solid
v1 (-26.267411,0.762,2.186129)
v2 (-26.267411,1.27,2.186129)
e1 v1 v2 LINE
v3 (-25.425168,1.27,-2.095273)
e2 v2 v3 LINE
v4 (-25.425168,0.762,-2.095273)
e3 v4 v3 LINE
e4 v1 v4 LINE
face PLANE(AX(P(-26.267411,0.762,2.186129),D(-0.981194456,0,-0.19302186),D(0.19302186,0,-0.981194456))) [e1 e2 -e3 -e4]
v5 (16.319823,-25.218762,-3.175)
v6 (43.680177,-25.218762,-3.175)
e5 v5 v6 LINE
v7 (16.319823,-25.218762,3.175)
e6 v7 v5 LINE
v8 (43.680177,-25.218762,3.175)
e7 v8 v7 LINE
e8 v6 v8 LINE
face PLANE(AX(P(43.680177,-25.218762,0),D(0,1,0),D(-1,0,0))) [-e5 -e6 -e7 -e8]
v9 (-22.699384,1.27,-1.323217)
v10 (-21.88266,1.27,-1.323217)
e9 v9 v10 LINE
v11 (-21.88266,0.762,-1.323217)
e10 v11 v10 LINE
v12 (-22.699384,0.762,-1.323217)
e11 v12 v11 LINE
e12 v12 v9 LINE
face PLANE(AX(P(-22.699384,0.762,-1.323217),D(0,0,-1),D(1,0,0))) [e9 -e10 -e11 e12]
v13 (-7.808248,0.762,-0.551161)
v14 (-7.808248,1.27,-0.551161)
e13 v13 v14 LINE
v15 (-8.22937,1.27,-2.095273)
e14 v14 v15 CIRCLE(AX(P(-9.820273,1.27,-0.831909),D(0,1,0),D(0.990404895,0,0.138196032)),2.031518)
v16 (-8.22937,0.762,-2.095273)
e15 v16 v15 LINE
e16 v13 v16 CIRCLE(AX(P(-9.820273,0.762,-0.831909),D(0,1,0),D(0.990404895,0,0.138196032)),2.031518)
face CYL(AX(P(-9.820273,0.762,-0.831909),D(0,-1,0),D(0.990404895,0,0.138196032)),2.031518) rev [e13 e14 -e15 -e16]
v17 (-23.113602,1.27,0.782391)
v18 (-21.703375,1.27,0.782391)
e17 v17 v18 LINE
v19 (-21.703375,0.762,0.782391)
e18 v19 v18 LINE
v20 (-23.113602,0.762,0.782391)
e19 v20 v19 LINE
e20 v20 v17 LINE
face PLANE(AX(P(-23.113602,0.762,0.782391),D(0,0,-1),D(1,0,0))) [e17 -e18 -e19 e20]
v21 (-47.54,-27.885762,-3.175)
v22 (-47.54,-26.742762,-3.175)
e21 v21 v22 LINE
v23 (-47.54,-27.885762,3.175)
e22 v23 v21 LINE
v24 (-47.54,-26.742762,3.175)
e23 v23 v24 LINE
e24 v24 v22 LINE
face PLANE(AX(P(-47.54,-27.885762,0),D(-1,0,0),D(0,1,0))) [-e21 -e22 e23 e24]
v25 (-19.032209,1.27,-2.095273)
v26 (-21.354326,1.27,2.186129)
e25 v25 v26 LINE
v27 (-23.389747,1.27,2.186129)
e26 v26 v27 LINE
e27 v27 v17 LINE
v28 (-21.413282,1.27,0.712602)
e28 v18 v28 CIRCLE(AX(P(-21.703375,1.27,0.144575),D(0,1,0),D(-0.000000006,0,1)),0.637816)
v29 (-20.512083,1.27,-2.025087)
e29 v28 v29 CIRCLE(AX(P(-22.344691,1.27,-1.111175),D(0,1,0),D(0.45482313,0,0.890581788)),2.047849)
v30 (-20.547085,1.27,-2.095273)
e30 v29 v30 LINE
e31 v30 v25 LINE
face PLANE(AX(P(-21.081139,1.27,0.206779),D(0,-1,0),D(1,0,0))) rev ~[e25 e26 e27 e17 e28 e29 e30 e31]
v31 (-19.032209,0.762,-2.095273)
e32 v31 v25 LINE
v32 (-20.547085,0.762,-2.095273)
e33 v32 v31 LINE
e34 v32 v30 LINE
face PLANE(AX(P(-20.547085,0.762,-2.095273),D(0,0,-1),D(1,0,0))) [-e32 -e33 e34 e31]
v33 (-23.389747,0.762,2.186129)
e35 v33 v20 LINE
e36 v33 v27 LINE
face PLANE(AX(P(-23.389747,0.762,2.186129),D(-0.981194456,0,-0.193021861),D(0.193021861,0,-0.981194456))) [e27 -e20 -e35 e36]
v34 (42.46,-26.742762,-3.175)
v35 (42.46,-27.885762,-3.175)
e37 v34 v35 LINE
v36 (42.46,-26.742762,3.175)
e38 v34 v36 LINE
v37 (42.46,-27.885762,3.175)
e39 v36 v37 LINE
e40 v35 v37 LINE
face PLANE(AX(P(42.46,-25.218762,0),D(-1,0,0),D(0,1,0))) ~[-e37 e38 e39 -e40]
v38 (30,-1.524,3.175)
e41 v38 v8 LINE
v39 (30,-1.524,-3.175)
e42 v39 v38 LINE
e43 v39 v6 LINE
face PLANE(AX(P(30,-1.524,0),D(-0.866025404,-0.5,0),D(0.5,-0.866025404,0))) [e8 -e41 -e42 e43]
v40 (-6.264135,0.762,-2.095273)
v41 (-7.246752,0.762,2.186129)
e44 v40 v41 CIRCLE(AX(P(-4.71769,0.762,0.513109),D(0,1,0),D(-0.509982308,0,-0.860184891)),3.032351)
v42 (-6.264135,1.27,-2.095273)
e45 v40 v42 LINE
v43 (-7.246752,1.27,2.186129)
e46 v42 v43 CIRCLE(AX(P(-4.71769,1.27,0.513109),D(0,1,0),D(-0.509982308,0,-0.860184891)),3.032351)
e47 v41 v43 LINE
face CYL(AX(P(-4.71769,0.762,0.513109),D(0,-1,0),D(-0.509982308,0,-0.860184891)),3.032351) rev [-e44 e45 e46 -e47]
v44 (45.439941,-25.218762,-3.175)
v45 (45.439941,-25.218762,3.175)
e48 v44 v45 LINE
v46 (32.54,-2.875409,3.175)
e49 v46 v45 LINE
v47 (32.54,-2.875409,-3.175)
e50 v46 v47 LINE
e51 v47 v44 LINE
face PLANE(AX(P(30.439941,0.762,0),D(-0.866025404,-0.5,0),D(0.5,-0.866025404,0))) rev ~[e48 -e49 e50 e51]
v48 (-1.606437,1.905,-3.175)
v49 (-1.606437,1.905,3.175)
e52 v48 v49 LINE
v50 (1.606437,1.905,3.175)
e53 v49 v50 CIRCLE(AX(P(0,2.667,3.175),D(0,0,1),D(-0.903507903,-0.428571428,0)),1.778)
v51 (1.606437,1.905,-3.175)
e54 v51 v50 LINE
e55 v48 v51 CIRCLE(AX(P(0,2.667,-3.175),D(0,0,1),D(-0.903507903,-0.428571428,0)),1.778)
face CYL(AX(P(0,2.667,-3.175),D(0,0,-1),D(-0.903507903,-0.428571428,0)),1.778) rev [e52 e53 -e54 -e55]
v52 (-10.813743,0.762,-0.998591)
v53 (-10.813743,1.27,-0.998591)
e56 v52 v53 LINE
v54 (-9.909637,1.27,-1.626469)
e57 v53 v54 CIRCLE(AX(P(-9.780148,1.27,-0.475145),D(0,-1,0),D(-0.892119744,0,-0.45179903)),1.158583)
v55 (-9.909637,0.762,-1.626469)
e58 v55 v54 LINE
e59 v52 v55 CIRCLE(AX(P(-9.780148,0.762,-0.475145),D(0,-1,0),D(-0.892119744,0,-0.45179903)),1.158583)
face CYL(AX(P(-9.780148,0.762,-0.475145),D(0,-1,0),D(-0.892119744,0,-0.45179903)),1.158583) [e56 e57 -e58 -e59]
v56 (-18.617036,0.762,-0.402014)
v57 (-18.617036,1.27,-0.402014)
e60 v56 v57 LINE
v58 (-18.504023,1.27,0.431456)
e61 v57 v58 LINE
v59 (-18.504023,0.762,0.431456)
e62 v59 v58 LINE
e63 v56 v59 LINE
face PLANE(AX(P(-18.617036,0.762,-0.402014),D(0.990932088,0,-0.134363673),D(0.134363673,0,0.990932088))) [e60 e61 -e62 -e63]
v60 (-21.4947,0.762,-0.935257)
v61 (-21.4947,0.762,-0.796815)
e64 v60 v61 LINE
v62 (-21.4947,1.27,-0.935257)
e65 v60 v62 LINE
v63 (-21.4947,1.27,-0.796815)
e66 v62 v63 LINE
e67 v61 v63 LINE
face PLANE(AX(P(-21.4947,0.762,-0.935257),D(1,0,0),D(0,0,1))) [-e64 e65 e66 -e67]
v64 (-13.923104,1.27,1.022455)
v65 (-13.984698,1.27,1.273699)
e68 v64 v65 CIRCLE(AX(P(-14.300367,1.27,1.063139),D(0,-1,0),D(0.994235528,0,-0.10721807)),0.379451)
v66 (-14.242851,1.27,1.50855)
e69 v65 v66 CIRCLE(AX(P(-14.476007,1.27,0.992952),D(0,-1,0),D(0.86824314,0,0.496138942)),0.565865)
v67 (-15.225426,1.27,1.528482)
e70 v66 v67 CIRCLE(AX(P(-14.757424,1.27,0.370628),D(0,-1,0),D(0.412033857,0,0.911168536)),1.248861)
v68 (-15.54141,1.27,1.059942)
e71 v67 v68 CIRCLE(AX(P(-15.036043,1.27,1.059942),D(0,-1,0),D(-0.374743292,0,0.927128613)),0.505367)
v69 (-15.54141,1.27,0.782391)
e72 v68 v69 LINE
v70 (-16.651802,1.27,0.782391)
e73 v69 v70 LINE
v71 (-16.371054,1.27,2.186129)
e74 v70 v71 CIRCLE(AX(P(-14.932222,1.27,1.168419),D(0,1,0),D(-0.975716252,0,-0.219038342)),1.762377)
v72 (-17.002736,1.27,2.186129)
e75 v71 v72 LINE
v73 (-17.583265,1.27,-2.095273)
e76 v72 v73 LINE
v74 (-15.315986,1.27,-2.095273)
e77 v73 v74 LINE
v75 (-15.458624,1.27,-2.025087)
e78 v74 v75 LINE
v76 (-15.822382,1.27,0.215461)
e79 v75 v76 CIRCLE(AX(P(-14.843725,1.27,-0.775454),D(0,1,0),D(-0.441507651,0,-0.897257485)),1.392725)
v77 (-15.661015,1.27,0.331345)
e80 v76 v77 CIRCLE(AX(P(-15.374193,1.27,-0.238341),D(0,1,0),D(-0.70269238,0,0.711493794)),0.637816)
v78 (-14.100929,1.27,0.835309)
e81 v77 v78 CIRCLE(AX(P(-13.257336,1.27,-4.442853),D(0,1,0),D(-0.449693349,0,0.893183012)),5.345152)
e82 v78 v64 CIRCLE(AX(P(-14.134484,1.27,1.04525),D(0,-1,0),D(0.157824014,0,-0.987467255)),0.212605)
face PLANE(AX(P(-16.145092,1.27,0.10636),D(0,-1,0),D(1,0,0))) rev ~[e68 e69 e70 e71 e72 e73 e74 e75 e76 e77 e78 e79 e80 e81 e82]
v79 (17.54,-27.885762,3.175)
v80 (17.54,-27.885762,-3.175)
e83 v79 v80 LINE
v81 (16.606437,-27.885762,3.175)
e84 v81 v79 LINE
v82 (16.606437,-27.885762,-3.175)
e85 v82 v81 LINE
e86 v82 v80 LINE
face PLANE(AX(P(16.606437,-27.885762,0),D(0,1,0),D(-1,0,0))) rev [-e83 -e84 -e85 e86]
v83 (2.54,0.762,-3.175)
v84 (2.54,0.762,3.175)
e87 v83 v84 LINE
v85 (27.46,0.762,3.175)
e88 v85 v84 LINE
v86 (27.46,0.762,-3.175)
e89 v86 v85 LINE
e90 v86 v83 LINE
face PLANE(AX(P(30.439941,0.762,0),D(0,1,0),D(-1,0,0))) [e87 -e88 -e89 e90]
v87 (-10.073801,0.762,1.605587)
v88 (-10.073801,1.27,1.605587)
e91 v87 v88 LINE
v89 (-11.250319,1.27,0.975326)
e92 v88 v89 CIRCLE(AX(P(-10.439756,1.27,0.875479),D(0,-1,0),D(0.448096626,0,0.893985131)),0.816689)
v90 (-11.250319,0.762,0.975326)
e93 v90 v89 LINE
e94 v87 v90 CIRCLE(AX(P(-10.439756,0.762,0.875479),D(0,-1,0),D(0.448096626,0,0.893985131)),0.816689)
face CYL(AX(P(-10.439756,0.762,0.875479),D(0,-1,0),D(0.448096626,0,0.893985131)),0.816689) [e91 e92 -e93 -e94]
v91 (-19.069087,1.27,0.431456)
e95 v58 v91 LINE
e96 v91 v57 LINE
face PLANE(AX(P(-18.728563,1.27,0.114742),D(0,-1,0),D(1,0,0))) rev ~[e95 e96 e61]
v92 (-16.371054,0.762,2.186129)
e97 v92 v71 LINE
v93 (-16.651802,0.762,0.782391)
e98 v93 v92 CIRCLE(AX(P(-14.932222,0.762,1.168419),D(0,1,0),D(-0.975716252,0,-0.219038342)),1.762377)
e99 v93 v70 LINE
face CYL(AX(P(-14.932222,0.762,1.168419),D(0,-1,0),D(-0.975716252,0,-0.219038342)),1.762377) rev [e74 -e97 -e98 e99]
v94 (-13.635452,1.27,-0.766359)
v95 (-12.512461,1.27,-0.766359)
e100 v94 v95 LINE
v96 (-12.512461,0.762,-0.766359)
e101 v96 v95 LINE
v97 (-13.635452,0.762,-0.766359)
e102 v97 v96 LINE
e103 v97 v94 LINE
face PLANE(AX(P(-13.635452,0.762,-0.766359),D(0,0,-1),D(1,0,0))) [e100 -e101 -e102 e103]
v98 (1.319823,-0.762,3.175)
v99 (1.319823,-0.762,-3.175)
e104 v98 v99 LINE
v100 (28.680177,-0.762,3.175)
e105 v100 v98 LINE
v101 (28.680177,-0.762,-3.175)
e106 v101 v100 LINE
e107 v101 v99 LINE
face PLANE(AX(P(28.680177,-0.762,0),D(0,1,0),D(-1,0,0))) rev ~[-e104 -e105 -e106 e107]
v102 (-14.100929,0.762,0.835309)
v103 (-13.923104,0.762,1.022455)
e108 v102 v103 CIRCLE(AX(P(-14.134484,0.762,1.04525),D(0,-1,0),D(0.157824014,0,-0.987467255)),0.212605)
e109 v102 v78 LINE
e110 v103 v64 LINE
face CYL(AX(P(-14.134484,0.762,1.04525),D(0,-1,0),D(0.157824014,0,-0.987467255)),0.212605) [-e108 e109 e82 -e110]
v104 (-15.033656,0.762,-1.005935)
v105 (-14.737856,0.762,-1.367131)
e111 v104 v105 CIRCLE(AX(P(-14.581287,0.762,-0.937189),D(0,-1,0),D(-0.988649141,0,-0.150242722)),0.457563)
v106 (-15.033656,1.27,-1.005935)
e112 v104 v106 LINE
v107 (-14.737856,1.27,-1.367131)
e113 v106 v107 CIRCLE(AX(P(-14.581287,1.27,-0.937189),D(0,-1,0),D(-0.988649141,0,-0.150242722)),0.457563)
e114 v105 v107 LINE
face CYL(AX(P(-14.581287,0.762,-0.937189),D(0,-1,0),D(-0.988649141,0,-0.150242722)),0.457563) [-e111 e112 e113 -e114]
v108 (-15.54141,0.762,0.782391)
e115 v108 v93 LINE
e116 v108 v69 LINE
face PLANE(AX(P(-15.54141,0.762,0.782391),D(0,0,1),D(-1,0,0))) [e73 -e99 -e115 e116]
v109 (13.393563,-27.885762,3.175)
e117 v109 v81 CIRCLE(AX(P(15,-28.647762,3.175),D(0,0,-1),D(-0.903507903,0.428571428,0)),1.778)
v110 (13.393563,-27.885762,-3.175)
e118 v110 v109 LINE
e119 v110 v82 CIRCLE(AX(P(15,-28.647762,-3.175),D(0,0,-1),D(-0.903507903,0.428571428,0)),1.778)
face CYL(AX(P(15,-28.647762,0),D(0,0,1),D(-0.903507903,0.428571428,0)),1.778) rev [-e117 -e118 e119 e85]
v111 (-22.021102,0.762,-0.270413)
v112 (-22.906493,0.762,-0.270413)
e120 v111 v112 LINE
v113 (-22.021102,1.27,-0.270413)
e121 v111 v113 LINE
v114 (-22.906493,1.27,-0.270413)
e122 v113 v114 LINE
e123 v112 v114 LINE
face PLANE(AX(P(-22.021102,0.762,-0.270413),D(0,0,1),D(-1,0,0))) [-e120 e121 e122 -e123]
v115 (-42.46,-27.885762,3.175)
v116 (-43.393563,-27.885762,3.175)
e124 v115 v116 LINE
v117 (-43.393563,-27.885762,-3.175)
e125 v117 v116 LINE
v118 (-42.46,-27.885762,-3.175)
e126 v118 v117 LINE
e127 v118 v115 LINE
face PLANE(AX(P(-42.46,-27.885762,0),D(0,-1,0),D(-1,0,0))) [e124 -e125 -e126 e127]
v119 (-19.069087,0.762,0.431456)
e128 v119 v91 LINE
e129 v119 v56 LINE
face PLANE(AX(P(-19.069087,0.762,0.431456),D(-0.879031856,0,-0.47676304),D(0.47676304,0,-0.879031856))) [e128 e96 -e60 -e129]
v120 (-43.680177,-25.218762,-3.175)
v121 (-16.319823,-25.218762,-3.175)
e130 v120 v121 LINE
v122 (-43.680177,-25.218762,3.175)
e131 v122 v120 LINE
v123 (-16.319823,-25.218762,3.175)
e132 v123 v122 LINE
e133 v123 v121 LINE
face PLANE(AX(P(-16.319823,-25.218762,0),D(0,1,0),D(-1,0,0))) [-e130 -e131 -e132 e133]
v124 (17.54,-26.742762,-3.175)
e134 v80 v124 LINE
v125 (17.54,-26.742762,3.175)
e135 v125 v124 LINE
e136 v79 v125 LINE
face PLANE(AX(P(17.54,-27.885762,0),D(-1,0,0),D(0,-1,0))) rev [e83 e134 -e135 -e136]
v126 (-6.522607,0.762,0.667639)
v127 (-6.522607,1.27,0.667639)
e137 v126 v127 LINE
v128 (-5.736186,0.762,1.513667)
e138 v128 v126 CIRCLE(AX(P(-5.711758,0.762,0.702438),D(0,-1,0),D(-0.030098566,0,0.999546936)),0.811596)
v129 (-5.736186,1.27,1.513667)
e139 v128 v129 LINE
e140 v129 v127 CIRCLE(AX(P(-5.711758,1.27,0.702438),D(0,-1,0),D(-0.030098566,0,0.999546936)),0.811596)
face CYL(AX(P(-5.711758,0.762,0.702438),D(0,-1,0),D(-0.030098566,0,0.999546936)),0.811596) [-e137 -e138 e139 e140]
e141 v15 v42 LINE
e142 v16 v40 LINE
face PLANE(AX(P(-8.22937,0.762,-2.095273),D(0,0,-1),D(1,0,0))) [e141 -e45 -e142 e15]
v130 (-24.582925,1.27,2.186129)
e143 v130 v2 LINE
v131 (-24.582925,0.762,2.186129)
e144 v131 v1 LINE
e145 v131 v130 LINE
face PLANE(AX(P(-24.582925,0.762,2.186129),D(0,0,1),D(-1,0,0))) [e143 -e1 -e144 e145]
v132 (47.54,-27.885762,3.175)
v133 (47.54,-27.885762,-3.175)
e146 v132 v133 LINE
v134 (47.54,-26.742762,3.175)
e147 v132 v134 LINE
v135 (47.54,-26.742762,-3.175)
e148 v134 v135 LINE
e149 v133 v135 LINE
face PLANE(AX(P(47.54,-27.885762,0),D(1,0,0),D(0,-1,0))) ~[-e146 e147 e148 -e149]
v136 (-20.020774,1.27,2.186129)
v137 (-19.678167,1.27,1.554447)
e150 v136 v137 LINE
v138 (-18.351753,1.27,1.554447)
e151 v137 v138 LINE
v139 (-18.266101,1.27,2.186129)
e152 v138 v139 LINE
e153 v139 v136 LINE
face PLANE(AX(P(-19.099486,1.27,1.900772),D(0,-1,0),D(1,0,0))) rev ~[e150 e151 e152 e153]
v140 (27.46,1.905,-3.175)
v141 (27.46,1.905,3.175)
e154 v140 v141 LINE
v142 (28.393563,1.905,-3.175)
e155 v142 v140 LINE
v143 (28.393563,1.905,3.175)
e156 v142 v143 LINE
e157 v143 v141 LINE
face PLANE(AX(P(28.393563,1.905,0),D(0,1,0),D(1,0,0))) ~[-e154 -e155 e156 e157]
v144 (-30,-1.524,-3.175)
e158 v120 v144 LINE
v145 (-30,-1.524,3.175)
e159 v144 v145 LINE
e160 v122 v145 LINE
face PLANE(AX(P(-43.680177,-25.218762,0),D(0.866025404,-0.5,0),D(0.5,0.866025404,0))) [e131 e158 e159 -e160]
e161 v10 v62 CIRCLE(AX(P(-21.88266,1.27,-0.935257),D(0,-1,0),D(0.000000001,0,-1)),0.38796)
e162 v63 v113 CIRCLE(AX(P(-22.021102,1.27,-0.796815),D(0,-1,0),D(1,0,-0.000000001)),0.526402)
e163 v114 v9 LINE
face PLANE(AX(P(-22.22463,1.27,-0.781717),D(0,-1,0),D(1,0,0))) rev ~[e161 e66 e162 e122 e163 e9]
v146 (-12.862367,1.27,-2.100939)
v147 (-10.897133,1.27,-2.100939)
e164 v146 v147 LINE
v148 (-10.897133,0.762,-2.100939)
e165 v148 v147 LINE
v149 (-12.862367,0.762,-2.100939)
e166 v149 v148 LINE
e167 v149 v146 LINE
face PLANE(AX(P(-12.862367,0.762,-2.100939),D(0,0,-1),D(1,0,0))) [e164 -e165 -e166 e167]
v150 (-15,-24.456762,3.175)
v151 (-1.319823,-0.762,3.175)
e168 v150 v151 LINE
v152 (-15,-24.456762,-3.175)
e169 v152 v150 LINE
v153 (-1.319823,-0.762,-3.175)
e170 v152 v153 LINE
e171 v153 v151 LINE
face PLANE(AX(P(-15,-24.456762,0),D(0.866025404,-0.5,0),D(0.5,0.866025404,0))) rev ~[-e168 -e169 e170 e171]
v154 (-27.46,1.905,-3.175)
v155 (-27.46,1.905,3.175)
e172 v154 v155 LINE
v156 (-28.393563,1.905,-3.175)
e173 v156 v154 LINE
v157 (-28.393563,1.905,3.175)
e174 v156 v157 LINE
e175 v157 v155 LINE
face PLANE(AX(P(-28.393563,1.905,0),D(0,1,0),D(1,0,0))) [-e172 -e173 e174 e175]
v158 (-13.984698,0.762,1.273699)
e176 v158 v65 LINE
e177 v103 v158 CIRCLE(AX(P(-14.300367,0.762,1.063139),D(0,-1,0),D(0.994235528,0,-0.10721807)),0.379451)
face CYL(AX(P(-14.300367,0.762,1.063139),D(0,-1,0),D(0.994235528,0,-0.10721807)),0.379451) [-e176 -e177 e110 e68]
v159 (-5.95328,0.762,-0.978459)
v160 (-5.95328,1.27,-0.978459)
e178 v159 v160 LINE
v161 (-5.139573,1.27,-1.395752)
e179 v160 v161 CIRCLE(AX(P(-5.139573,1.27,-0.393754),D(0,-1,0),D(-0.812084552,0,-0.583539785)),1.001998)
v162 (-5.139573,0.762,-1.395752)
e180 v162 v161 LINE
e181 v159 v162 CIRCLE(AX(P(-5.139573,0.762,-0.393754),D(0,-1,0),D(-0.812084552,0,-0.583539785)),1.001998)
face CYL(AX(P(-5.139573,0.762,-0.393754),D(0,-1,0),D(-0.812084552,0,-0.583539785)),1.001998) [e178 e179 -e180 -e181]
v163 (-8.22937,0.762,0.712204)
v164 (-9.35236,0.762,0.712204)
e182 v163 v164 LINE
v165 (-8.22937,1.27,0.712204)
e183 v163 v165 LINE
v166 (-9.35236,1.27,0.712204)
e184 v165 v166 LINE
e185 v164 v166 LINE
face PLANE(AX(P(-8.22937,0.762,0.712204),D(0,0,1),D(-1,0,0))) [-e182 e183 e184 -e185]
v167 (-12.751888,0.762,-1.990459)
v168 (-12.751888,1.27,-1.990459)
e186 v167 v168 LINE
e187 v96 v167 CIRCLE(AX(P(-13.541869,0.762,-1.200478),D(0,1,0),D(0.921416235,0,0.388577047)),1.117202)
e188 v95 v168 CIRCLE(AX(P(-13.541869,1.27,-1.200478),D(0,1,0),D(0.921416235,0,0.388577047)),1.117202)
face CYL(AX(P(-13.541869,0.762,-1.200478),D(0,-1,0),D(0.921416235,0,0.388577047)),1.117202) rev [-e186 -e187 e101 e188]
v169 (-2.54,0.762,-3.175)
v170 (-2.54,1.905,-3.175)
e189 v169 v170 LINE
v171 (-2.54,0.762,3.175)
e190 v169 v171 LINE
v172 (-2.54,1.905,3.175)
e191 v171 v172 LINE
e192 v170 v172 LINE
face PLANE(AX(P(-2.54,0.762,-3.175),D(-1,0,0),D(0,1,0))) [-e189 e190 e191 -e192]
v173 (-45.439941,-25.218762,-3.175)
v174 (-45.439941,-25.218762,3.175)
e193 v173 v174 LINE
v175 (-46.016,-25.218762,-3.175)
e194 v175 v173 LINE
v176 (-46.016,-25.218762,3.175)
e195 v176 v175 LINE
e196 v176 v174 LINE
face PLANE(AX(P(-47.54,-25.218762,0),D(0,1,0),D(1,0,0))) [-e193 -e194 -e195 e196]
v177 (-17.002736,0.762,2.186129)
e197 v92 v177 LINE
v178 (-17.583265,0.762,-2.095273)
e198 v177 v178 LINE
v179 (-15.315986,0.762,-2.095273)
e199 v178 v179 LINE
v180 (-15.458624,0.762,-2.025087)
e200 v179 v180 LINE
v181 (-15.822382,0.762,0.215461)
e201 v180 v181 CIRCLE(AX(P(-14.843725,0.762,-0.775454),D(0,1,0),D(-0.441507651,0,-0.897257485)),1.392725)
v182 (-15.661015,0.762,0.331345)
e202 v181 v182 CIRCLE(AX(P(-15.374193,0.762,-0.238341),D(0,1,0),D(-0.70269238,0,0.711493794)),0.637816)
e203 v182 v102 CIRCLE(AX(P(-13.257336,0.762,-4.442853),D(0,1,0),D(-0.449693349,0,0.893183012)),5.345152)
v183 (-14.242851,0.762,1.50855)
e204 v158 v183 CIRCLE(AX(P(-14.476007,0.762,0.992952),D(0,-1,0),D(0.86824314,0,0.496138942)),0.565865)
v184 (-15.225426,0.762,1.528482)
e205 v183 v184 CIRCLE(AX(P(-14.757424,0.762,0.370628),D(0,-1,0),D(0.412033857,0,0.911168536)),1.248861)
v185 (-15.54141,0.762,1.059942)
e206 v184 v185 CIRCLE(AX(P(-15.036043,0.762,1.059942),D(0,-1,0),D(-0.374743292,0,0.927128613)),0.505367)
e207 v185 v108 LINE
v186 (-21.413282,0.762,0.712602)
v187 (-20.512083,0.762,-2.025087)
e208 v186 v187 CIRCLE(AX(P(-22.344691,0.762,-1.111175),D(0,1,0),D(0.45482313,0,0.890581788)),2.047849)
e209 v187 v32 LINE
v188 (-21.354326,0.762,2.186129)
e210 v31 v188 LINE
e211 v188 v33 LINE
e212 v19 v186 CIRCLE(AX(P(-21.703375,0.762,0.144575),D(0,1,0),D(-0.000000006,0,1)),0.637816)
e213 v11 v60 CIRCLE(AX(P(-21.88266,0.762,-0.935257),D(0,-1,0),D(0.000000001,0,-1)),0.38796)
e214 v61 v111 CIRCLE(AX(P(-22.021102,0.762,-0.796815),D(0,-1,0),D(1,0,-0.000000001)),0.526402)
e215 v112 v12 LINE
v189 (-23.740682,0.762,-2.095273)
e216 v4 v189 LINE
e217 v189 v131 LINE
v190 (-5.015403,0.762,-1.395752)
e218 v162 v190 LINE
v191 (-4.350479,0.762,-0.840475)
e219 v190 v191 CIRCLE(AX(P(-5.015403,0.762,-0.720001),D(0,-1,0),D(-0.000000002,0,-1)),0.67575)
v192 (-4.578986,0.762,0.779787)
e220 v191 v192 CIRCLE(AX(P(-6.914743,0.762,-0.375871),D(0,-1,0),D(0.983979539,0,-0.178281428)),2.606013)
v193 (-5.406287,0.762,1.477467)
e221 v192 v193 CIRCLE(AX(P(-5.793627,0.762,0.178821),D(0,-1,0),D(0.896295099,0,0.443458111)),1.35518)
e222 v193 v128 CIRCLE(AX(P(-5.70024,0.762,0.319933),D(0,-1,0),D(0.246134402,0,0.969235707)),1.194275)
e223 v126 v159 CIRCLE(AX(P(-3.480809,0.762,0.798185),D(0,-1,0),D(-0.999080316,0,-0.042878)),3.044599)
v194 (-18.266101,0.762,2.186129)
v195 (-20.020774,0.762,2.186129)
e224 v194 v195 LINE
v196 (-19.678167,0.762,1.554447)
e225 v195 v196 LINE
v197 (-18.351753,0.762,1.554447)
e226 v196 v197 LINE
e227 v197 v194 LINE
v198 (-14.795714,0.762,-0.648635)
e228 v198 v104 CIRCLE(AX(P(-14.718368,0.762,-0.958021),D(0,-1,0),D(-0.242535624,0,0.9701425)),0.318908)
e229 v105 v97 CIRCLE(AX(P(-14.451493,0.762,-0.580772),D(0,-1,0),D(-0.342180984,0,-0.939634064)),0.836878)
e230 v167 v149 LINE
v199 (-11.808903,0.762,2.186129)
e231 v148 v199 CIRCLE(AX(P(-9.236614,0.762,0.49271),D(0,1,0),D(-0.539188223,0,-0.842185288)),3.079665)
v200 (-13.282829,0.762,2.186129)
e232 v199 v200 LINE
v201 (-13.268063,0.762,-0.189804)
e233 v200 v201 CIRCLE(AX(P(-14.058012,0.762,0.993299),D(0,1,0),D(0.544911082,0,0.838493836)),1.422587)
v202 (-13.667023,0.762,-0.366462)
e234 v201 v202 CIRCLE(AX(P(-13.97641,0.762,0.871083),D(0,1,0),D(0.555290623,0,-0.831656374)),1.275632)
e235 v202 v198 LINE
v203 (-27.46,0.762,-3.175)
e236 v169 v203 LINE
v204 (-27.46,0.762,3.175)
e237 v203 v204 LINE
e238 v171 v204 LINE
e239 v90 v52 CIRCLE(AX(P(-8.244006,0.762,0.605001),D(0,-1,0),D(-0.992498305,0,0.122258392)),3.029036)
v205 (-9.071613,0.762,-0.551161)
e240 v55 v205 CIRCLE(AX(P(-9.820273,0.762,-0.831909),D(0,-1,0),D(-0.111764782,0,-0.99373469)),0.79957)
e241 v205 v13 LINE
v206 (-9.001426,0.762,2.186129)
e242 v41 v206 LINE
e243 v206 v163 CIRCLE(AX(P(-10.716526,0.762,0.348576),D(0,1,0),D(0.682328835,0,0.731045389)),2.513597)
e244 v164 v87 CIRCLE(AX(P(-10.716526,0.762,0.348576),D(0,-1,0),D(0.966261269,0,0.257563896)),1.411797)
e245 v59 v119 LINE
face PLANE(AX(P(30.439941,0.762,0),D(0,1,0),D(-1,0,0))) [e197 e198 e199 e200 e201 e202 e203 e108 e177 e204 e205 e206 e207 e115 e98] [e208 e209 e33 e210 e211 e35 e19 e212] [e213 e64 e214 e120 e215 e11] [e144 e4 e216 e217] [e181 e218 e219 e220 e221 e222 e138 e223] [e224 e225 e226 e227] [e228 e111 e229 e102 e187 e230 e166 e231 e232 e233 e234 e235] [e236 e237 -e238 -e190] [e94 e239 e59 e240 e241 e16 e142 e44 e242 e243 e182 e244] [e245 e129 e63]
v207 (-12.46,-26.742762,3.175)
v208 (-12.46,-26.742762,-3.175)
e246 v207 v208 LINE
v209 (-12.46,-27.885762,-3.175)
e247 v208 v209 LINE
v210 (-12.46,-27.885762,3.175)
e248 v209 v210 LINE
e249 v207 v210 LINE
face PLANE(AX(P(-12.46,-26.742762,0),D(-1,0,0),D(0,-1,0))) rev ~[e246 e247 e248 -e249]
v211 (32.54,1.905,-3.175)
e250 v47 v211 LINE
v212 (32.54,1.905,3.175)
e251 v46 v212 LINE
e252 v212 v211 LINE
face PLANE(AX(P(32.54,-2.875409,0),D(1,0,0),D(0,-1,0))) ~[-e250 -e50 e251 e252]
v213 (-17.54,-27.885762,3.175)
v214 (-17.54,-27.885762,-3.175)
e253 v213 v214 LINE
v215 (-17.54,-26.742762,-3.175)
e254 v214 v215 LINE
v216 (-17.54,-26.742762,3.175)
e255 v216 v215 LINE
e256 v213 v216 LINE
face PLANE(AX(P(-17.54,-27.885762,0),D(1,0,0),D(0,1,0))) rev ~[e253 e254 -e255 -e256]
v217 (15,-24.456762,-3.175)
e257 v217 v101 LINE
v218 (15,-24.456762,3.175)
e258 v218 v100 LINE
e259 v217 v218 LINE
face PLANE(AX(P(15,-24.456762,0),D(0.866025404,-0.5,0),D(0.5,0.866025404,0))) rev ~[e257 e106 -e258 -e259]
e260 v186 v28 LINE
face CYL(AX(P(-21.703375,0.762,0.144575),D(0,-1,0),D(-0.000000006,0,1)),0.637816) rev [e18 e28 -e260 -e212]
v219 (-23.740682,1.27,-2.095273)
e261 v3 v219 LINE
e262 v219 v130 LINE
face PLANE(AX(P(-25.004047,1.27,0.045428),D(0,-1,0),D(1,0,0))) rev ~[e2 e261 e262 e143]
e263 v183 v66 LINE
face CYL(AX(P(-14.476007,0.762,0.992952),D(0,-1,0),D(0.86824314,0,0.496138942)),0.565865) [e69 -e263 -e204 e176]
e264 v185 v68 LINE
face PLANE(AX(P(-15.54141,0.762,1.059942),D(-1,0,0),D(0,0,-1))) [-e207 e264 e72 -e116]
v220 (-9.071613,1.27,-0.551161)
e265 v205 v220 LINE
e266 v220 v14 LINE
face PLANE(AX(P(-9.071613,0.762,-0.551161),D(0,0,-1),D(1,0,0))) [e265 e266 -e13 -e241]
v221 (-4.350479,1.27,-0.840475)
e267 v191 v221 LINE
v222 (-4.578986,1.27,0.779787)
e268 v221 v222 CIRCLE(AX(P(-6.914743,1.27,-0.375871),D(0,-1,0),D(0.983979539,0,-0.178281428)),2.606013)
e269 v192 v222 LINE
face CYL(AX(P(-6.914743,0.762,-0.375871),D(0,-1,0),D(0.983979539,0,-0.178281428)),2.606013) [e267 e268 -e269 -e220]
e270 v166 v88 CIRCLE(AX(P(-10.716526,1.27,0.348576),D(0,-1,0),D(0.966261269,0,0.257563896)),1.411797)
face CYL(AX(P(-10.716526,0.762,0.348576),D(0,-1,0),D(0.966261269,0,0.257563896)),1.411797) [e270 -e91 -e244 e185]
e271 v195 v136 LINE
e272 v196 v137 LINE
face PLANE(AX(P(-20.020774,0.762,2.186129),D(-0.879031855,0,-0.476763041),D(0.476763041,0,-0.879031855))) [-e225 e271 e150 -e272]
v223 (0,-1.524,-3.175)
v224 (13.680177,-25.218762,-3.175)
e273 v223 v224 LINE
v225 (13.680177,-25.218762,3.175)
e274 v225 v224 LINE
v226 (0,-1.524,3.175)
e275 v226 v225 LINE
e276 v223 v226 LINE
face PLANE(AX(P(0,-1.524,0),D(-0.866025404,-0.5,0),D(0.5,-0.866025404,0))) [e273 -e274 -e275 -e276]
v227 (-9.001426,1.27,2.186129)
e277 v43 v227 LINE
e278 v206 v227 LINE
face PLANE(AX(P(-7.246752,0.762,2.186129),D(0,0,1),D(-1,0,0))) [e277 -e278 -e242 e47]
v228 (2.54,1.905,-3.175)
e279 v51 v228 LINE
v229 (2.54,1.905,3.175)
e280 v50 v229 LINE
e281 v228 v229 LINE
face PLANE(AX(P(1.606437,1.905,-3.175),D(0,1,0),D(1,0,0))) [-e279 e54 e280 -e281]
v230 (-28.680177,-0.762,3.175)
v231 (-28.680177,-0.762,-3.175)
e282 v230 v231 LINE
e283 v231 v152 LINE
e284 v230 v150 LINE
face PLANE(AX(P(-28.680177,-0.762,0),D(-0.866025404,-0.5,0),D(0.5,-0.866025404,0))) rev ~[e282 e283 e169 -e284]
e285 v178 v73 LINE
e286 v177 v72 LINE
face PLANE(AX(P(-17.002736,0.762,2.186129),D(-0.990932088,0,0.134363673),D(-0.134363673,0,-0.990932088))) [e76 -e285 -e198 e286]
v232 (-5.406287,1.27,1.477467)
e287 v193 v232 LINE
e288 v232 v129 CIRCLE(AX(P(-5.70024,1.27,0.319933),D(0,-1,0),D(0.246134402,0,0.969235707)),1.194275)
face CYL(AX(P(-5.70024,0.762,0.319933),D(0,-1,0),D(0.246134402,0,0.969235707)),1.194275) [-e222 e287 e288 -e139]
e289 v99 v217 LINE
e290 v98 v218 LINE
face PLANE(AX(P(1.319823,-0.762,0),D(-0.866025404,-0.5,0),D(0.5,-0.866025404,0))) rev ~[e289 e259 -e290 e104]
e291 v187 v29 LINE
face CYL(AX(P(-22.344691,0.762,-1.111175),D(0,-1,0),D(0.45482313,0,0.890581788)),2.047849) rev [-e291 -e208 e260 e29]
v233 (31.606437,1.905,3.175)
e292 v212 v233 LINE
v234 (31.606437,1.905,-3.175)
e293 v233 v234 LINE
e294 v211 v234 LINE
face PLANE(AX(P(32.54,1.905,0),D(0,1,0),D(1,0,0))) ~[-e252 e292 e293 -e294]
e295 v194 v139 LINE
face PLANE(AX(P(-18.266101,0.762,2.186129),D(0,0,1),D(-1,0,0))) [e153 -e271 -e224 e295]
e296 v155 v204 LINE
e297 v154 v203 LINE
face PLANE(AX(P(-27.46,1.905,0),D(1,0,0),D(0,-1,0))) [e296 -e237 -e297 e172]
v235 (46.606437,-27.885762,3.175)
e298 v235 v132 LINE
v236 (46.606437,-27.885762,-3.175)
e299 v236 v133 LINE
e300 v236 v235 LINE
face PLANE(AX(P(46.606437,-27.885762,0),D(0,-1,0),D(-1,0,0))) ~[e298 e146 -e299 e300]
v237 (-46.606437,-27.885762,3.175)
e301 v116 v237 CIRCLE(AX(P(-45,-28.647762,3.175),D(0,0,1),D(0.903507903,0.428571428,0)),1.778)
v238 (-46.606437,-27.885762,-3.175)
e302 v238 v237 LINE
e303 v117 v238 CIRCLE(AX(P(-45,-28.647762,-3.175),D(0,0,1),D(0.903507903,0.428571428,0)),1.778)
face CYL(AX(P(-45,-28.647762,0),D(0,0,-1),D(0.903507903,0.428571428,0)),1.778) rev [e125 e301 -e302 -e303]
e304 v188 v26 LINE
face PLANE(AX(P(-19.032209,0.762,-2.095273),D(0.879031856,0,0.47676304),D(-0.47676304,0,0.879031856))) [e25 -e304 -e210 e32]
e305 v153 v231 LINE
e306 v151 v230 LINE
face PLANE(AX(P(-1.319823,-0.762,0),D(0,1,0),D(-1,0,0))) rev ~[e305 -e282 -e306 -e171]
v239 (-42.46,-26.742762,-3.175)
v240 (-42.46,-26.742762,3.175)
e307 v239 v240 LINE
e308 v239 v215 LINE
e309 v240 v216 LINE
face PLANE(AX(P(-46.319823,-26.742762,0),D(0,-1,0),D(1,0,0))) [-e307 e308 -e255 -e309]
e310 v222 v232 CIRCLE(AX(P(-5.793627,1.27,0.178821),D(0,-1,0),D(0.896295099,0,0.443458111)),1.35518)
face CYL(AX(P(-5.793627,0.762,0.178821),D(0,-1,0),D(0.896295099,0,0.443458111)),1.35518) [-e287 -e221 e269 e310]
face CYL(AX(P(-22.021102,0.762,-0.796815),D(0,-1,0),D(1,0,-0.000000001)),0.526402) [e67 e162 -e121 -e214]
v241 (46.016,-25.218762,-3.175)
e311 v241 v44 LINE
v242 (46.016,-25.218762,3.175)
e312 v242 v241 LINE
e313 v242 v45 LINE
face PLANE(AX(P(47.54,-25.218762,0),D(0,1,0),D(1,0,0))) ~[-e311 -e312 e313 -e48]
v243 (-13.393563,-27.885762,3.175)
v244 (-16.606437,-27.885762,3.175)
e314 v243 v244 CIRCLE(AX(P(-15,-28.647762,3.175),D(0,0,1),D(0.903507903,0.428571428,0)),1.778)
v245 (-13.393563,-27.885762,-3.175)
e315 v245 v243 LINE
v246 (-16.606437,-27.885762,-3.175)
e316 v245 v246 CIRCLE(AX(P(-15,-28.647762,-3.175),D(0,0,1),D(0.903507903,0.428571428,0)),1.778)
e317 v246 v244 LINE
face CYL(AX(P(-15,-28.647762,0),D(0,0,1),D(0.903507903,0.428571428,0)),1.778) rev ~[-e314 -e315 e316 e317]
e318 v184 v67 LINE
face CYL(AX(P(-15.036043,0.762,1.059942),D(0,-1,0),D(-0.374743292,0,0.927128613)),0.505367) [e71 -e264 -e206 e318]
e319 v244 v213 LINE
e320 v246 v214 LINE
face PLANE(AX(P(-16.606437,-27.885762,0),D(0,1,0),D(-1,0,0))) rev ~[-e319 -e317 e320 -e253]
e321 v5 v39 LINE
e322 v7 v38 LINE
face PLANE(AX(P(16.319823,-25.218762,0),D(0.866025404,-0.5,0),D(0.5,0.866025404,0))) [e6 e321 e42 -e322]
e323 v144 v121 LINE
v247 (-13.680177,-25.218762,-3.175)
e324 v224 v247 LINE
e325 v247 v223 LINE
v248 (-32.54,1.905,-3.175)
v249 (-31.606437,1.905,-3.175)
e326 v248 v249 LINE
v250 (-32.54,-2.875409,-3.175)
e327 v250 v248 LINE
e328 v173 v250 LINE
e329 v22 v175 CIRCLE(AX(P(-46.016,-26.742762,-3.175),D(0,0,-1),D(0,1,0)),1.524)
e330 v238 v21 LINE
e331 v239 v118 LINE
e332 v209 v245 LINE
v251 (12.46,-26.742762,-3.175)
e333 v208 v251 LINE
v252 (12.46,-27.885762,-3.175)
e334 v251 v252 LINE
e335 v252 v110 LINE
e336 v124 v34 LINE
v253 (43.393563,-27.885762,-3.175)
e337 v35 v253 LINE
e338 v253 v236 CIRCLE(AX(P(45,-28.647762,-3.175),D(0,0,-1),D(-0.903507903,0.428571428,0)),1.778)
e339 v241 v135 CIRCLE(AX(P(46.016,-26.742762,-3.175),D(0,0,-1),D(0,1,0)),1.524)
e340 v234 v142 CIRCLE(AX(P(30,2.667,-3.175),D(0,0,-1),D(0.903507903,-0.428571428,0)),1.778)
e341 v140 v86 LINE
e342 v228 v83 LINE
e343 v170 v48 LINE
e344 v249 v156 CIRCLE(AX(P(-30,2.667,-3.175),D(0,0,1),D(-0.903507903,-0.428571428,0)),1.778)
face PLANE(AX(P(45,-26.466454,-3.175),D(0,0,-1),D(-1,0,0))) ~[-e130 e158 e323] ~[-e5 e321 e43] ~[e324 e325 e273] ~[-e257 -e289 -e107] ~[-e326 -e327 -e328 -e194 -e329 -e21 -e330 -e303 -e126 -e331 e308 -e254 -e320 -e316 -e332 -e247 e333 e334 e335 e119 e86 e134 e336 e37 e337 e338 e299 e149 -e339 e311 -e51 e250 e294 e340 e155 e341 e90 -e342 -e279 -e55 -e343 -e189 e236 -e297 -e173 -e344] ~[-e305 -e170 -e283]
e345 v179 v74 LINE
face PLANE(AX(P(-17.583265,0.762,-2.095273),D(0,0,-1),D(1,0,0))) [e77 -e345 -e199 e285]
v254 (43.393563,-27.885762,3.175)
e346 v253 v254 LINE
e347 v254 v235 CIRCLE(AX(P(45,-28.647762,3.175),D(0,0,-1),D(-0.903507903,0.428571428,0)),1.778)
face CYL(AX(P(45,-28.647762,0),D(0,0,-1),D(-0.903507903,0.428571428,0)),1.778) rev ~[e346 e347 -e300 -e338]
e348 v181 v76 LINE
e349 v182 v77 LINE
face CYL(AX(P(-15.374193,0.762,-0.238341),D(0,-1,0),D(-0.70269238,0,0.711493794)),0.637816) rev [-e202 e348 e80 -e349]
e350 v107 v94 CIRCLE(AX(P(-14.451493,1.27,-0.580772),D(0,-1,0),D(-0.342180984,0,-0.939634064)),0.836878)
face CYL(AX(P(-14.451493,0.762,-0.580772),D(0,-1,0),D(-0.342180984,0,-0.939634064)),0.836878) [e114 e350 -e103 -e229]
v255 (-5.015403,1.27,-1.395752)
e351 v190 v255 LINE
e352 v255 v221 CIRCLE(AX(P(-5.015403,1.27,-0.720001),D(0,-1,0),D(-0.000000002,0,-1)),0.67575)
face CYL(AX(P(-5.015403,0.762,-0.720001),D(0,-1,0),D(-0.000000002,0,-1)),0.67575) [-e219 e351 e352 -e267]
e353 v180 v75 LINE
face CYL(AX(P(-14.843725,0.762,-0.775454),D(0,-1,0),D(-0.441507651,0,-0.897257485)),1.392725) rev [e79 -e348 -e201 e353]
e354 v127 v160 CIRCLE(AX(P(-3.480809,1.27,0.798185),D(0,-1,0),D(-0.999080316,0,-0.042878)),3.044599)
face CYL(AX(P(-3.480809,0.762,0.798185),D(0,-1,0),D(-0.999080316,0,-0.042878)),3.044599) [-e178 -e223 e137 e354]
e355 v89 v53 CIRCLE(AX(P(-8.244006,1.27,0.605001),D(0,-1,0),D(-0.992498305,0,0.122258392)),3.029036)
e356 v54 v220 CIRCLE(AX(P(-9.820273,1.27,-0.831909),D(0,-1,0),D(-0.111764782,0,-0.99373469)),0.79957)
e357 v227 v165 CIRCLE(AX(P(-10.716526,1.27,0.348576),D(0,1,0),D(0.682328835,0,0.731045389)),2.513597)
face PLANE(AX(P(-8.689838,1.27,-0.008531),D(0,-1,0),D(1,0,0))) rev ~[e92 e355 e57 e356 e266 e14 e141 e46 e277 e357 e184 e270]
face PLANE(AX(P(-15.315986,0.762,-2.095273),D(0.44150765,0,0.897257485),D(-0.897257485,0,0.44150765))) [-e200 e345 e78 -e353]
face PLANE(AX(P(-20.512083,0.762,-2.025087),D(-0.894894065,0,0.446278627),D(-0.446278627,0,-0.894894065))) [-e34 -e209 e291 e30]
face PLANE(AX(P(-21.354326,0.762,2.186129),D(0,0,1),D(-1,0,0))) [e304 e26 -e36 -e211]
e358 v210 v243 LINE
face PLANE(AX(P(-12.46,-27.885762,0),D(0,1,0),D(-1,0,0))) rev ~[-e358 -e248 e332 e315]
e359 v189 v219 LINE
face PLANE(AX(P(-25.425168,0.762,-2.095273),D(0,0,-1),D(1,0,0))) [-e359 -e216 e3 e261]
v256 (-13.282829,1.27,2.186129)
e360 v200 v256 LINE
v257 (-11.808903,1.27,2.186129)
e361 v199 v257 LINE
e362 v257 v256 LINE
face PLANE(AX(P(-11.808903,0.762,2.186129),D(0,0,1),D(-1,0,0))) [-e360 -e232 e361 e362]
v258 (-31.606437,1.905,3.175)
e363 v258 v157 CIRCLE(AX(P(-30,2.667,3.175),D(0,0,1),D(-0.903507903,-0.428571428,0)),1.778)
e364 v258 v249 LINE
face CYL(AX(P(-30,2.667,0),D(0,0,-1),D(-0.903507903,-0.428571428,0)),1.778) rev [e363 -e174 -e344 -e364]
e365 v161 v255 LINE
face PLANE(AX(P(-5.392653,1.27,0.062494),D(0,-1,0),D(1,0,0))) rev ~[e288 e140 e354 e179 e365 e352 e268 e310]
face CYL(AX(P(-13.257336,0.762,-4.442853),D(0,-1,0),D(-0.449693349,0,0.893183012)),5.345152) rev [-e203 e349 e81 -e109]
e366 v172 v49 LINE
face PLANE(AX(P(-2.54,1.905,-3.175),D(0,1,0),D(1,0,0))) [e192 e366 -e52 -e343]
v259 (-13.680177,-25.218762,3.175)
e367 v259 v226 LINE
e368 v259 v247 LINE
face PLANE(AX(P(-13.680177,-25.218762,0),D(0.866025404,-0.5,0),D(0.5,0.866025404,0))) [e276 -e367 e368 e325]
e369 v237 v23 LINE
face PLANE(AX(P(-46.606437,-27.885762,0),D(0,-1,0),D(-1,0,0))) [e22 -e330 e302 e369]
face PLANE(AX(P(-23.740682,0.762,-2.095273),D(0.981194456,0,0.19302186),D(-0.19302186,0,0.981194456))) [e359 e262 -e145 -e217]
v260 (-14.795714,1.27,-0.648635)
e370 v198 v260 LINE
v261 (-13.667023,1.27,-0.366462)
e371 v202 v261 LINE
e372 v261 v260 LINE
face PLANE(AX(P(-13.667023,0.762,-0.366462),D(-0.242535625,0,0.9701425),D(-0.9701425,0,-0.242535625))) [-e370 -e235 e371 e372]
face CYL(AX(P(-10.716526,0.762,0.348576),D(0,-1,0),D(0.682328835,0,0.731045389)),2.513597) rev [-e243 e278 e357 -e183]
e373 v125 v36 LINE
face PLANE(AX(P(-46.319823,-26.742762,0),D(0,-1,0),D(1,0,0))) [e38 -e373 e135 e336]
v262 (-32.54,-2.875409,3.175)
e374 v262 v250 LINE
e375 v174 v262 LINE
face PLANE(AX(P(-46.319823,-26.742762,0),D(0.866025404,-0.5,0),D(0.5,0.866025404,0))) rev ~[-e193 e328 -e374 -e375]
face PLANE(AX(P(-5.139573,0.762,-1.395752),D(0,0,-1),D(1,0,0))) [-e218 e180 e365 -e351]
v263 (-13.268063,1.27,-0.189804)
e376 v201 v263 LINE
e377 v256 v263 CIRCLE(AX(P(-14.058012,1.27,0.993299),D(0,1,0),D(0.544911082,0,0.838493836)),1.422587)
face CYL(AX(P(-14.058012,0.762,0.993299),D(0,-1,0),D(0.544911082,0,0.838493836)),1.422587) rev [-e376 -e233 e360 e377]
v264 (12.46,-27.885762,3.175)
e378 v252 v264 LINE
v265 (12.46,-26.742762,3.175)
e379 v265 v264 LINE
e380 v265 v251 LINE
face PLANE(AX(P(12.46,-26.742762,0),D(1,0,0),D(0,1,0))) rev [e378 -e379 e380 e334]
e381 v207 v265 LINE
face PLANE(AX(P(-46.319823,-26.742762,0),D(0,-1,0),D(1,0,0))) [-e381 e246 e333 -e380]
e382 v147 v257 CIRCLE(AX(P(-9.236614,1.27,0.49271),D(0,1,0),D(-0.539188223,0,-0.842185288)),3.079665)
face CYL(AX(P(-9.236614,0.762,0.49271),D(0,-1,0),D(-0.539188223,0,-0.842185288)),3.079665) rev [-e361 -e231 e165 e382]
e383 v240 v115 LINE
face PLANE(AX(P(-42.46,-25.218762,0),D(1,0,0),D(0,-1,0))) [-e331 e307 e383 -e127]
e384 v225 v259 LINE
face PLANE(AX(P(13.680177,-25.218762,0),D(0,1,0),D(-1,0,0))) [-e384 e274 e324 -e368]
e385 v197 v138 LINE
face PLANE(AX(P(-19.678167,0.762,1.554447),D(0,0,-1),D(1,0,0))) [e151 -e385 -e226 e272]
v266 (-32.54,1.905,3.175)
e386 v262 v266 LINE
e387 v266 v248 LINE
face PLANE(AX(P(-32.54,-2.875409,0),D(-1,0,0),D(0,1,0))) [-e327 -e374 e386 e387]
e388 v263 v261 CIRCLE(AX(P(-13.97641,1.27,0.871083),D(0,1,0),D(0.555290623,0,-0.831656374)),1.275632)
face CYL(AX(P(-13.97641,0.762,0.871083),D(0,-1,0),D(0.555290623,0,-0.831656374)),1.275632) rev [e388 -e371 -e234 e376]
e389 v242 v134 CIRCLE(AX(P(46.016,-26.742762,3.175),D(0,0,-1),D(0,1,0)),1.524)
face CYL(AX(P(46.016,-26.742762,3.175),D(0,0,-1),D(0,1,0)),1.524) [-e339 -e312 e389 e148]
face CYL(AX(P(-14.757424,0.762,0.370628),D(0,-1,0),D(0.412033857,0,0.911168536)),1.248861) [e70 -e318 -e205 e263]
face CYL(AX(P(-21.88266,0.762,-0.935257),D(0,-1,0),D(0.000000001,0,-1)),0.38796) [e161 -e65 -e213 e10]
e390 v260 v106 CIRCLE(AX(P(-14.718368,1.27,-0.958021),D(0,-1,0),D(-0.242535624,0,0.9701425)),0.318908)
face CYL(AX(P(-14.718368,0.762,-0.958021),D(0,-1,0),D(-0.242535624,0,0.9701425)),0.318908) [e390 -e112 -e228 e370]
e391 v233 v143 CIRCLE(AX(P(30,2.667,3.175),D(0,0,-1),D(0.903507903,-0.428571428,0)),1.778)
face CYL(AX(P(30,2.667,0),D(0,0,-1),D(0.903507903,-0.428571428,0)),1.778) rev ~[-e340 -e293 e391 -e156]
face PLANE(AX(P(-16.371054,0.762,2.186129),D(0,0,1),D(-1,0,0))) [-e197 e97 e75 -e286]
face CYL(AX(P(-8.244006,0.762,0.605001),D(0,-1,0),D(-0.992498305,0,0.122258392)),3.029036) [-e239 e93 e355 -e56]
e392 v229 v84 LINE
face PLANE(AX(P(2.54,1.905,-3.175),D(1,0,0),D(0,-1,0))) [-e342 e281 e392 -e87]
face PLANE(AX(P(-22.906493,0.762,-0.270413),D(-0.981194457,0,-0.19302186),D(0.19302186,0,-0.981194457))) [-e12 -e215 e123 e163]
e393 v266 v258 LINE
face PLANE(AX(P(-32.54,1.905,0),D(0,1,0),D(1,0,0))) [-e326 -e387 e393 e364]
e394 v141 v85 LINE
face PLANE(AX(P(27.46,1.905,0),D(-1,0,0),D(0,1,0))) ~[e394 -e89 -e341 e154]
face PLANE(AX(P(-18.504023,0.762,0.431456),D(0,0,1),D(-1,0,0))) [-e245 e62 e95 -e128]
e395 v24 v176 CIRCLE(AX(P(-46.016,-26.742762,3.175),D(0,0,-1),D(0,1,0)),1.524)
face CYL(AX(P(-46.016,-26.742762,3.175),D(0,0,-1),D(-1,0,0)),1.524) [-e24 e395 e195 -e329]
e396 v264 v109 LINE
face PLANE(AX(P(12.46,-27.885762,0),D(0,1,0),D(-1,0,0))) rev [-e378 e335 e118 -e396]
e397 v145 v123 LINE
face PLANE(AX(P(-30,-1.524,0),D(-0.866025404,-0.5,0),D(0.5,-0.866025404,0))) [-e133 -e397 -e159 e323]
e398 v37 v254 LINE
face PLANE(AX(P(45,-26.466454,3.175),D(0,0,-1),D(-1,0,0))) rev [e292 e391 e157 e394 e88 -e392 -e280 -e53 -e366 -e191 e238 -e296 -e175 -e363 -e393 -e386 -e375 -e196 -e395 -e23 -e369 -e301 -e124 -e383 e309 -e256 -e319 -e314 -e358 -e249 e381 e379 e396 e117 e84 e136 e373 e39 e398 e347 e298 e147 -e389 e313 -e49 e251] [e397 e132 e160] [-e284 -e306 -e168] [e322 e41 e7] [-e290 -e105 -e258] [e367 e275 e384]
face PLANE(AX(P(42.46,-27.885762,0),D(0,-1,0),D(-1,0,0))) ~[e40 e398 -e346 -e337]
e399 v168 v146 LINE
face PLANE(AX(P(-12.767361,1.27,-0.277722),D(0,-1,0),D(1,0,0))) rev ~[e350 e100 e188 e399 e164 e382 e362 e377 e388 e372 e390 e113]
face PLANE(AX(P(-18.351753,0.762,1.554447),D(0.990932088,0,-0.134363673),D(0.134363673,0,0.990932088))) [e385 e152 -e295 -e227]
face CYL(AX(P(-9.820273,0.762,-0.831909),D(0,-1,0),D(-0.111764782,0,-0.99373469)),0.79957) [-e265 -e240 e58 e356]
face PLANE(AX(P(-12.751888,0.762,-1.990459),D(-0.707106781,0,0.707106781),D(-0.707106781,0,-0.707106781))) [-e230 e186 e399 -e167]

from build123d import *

# Parameters (mm, degrees)
BOSS_EXTRUDE1_DEPTH  = 3.175
BOSS_EXTRUDE2_DEPTH  = 3.175
BOSS_EXTRUDE3_START  = -3.175
BOSS_EXTRUDE3_DEPTH  = 6.35
FILLET1_R            = 1.524
FILLET1_OF_MIRROR1_R = 1.524
BOSS_EXTRUDE4_DEPTH  = 0.508


with BuildPart() as part:
    # Sketch1 → Boss-Extrude1 (new body, symmetric)
    with BuildSketch(Plane.XY):
        Polygon((-46.319822715, -26.742762114), (-30.439940905, 0.762), (0, 0.762), (30.439940905, 0.762), (46.319822715, -26.742762114), (15, -26.742762114), (-15, -26.742762114), align=None)
        Polygon((-43.680177285, -25.218762114), (-30, -1.524), (-16.319822715, -25.218762114), align=None, mode=Mode.SUBTRACT)
        Polygon((-28.680177285, -0.762), (-15, -24.456762114), (-1.319822715, -0.762), align=None, mode=Mode.SUBTRACT)
        Polygon((-13.680177285, -25.218762114), (0, -1.524), (13.680177285, -25.218762114), align=None, mode=Mode.SUBTRACT)
        Polygon((1.319822715, -0.762), (15, -24.456762114), (28.680177285, -0.762), align=None, mode=Mode.SUBTRACT)
        Polygon((16.319822715, -25.218762114), (30, -1.524), (43.680177285, -25.218762114), align=None, mode=Mode.SUBTRACT)
    extrude(amount=BOSS_EXTRUDE1_DEPTH, both=True)

    # Sketch2 → Boss-Extrude2 (add, symmetric)
    with BuildSketch(Plane.XY):
        with BuildLine():
            Line((-46.606437051, -27.885762114), (-47.54, -27.885762114))
            Line((-47.54, -27.885762114), (-47.54, -25.218762114))
            Line((-47.54, -25.218762114), (-42.46, -25.218762114))
            Line((-42.46, -25.218762114), (-42.46, -27.885762114))
            Line((-42.46, -27.885762114), (-43.393562949, -27.885762114))
            ThreePointArc((-43.393562949, -27.885762114), (-45, -26.869762114), (-46.606437051, -27.885762114))
        make_face()
        with BuildLine():
            Line((-27.46, 0.762), (-30.439940905, 0.762))
            Line((-30.439940905, 0.762), (-32.54, -2.875409051))
            Line((-32.54, -2.875409051), (-32.54, 0.762))
            Line((-32.54, 0.762), (-32.54, 1.905))
            Line((-32.54, 1.905), (-31.606437051, 1.905))
            ThreePointArc((-31.606437051, 1.905), (-30, 0.889), (-28.393562949, 1.905))
            Line((-28.393562949, 1.905), (-27.46, 1.905))
            Line((-27.46, 1.905), (-27.46, 0.762))
        make_face()
        with BuildLine():
            Line((-16.606437051, -27.885762114), (-17.54, -27.885762114))
            Line((-17.54, -27.885762114), (-17.54, -26.742762114))
            Line((-17.54, -26.742762114), (-12.46, -26.742762114))
            Line((-12.46, -26.742762114), (-12.46, -27.885762114))
            Line((-12.46, -27.885762114), (-13.393562949, -27.885762114))
            ThreePointArc((-13.393562949, -27.885762114), (-15, -26.869762114), (-16.606437051, -27.885762114))
        make_face()
    boss_extrude2 = extrude(amount=BOSS_EXTRUDE2_DEPTH, both=True)

    # Sketch3 → Boss-Extrude3 (add)
    with BuildSketch(Plane.XY.offset(BOSS_EXTRUDE3_START)):
        with BuildLine():
            Line((1.606437051, 1.905), (2.54, 1.905))
            Line((2.54, 1.905), (2.54, 0.762))
            Line((2.54, 0.762), (-2.54, 0.762))
            Line((-2.54, 0.762), (-2.54, 1.905))
            Line((-2.54, 1.905), (-1.606437051, 1.905))
            ThreePointArc((-1.606437051, 1.905), (0, 0.889), (1.606437051, 1.905))
        make_face()
    extrude(amount=BOSS_EXTRUDE3_DEPTH)

    # Fillet1
    fillet1_edges = [part.edges().sort_by_distance(p)[0] for p in [
        (-47.54, -25.218762114, 0),
    ]]
    fillet(fillet1_edges, radius=FILLET1_R)

    # Mirror1: Boss-Extrude2 across plane
    add(boss_extrude2.mirror(Plane(origin=(0, 0, 0), x_dir=(0, 0, 1), z_dir=(1, 0, 0))))

    # Fillet1 of Mirror1
    fillet1_of_mirror1_edges = [part.edges().sort_by_distance(p)[0] for p in [
        (47.54, -25.218762114, 0),
    ]]
    fillet(fillet1_of_mirror1_edges, radius=FILLET1_OF_MIRROR1_R)

    # Sketch4 → Boss-Extrude4 (add)
    with BuildSketch(Plane(origin=(30.341470111, 0.762, -10.998323426), x_dir=(-1, 0, 0), z_dir=(0, 1, 0))):
        Polygon((55.766638301, 8.903049935), (54.0821519, 8.903049935), (54.924395101, 13.184452869), (56.608881501, 13.184452869), align=None)
        with BuildLine():
            Line((49.373679321, 8.903049935), (51.695796166, 13.184452869))
            Line((51.695796166, 13.184452869), (53.731217234, 13.184452869))
            Line((53.731217234, 13.184452869), (53.455071922, 11.780714202))
            Line((53.455071922, 11.780714202), (52.044845481, 11.780714202))
            ThreePointArc((52.044845481, 11.780714202), (51.895660414, 11.763021636), (51.754751921, 11.710925494))
            ThreePointArc((51.754751921, 11.710925494), (50.74099205, 10.52746368), (50.853552966, 8.973236868))
            Line((50.853552966, 8.973236868), (50.888554794, 8.903049935))
            Line((50.888554794, 8.903049935), (49.373679321, 8.903049935))
        make_face()
        with BuildLine():
            Line((47.344206299, 13.184452869), (47.92473551, 8.903049935))
            Line((47.92473551, 8.903049935), (45.657455804, 8.903049935))
            Line((45.657455804, 8.903049935), (45.800093765, 8.973236868))
            ThreePointArc((45.800093765, 8.973236868), (46.559919921, 9.999679495), (46.16385217, 11.213784347))
            ThreePointArc((46.16385217, 11.213784347), (46.087708374, 11.278047887), (46.002485287, 11.329668676))
            ThreePointArc((46.002485287, 11.329668676), (45.241879319, 11.641820064), (44.44239948, 11.833632247))
            ThreePointArc((44.44239948, 11.833632247), (44.321830206, 11.897125178), (44.264573877, 12.020777977))
            ThreePointArc((44.264573877, 12.020777977), (44.273299822, 12.151811254), (44.326168164, 12.272022736))
            ThreePointArc((44.326168164, 12.272022736), (44.436687002, 12.409847066), (44.584321098, 12.50687352))
            ThreePointArc((44.584321098, 12.50687352), (45.07356558, 12.617554773), (45.566896159, 12.526805434))
            ThreePointArc((45.566896159, 12.526805434), (45.796502387, 12.340831934), (45.882880346, 12.05826511))
            Line((45.882880346, 12.05826511), (45.882880346, 11.780714202))
            Line((45.882880346, 11.780714202), (46.993271632, 11.780714202))
            ThreePointArc((46.993271632, 11.780714202), (47.00184458, 12.512372899), (46.712523898, 13.184452869))
            Line((46.712523898, 13.184452869), (47.344206299, 13.184452869))
        make_face()
        with BuildLine():
            Line((52.362572033, 10.727910202), (53.247962938, 10.727910202))
            Line((53.247962938, 10.727910202), (53.040853955, 9.675106202))
            Line((53.040853955, 9.675106202), (52.224130208, 9.675106202))
            ThreePointArc((52.224130208, 9.675106202), (51.949800938, 9.788737106), (51.836170033, 10.063066377))
            Line((51.836170033, 10.063066377), (51.836170033, 10.201508202))
            ThreePointArc((51.836170033, 10.201508202), (51.990349609, 10.573730626), (52.362572033, 10.727910202))
        make_face()
        Polygon((48.958505766, 10.596309702), (48.845492907, 11.429779536), (49.410557201, 11.429779536), align=None)
        Polygon((48.607571099, 13.184452869), (50.362244433, 13.184452869), (50.019637029, 12.552770469), (48.69322295, 12.552770469), align=None)
        with BuildLine():
            Line((43.093358174, 9.007864255), (43.203837606, 8.897384823))
            Line((43.203837606, 8.897384823), (41.238603472, 8.897384823))
            ThreePointArc((41.238603472, 8.897384823), (42.59037643, 10.850382179), (42.150373231, 13.184452869))
            Line((42.150373231, 13.184452869), (43.624298831, 13.184452869))
            ThreePointArc((43.624298831, 13.184452869), (42.976922737, 12.00046329), (43.609533036, 10.808518937))
            ThreePointArc((43.609533036, 10.808518937), (43.801404112, 10.703005905), (44.00849344, 10.63186155))
            Line((44.00849344, 10.63186155), (45.137184548, 10.349688773))
            ThreePointArc((45.137184548, 10.349688773), (45.325274084, 10.217067986), (45.375126192, 9.992388851))
            ThreePointArc((45.375126192, 9.992388851), (45.276758726, 9.771226443), (45.079326395, 9.631192719))
            ThreePointArc((45.079326395, 9.631192719), (44.392498989, 9.682709209), (43.976922089, 10.231964773))
            Line((43.976922089, 10.231964773), (42.853931155, 10.231964773))
            ThreePointArc((42.853931155, 10.231964773), (42.786913393, 9.583390951), (43.093358174, 9.007864255))
        make_face()
        with BuildLine():
            Line((38.57083963, 8.903049935), (36.605605496, 8.903049935))
            ThreePointArc((36.605605496, 8.903049935), (38.014670833, 10.833118693), (37.588222563, 13.184452869))
            Line((37.588222563, 13.184452869), (39.342895896, 13.184452869))
            ThreePointArc((39.342895896, 13.184452869), (38.831372076, 12.513225905), (38.57083963, 11.710527269))
            Line((38.57083963, 11.710527269), (39.693830563, 11.710527269))
            ThreePointArc((39.693830563, 11.710527269), (39.959617235, 12.233880985), (40.415270694, 12.603910164))
            ThreePointArc((40.415270694, 12.603910164), (41.166876497, 12.593701608), (41.591788981, 11.973649288))
            ThreePointArc((41.591788981, 11.973649288), (41.543037796, 10.949193829), (41.155213354, 9.999731945))
            ThreePointArc((41.155213354, 9.999731945), (40.782487914, 9.571566118), (40.251107207, 9.371854393))
            ThreePointArc((40.251107207, 9.371854393), (39.531077174, 9.674914925), (39.41308283, 10.447162469))
            Line((39.41308283, 10.447162469), (38.149718029, 10.447162469))
            ThreePointArc((38.149718029, 10.447162469), (38.201808334, 9.631886976), (38.57083963, 8.903049935))
        make_face()
        with BuildLine():
            Line((35.48104333, 9.602571887), (35.356873428, 9.602571887))
            ThreePointArc((35.356873428, 9.602571887), (34.923728887, 9.759646665), (34.691948891, 10.157848515))
            ThreePointArc((34.691948891, 10.157848515), (34.675735454, 10.986379145), (34.920455715, 11.778110082))
            ThreePointArc((34.920455715, 11.778110082), (35.261440878, 12.213116508), (35.747757566, 12.475790357))
            ThreePointArc((35.747757566, 12.475790357), (35.911443016, 12.505405638), (36.077655631, 12.511990293))
            ThreePointArc((36.077655631, 12.511990293), (36.647671195, 12.253324316), (36.864077445, 11.665962276))
            ThreePointArc((36.864077445, 11.665962276), (36.699639375, 10.801331502), (36.294750409, 10.019864179))
            ThreePointArc((36.294750409, 10.019864179), (35.938277424, 9.712977507), (35.48104333, 9.602571887))
        make_face()
    extrude(amount=BOSS_EXTRUDE4_DEPTH)


solid = part.part
